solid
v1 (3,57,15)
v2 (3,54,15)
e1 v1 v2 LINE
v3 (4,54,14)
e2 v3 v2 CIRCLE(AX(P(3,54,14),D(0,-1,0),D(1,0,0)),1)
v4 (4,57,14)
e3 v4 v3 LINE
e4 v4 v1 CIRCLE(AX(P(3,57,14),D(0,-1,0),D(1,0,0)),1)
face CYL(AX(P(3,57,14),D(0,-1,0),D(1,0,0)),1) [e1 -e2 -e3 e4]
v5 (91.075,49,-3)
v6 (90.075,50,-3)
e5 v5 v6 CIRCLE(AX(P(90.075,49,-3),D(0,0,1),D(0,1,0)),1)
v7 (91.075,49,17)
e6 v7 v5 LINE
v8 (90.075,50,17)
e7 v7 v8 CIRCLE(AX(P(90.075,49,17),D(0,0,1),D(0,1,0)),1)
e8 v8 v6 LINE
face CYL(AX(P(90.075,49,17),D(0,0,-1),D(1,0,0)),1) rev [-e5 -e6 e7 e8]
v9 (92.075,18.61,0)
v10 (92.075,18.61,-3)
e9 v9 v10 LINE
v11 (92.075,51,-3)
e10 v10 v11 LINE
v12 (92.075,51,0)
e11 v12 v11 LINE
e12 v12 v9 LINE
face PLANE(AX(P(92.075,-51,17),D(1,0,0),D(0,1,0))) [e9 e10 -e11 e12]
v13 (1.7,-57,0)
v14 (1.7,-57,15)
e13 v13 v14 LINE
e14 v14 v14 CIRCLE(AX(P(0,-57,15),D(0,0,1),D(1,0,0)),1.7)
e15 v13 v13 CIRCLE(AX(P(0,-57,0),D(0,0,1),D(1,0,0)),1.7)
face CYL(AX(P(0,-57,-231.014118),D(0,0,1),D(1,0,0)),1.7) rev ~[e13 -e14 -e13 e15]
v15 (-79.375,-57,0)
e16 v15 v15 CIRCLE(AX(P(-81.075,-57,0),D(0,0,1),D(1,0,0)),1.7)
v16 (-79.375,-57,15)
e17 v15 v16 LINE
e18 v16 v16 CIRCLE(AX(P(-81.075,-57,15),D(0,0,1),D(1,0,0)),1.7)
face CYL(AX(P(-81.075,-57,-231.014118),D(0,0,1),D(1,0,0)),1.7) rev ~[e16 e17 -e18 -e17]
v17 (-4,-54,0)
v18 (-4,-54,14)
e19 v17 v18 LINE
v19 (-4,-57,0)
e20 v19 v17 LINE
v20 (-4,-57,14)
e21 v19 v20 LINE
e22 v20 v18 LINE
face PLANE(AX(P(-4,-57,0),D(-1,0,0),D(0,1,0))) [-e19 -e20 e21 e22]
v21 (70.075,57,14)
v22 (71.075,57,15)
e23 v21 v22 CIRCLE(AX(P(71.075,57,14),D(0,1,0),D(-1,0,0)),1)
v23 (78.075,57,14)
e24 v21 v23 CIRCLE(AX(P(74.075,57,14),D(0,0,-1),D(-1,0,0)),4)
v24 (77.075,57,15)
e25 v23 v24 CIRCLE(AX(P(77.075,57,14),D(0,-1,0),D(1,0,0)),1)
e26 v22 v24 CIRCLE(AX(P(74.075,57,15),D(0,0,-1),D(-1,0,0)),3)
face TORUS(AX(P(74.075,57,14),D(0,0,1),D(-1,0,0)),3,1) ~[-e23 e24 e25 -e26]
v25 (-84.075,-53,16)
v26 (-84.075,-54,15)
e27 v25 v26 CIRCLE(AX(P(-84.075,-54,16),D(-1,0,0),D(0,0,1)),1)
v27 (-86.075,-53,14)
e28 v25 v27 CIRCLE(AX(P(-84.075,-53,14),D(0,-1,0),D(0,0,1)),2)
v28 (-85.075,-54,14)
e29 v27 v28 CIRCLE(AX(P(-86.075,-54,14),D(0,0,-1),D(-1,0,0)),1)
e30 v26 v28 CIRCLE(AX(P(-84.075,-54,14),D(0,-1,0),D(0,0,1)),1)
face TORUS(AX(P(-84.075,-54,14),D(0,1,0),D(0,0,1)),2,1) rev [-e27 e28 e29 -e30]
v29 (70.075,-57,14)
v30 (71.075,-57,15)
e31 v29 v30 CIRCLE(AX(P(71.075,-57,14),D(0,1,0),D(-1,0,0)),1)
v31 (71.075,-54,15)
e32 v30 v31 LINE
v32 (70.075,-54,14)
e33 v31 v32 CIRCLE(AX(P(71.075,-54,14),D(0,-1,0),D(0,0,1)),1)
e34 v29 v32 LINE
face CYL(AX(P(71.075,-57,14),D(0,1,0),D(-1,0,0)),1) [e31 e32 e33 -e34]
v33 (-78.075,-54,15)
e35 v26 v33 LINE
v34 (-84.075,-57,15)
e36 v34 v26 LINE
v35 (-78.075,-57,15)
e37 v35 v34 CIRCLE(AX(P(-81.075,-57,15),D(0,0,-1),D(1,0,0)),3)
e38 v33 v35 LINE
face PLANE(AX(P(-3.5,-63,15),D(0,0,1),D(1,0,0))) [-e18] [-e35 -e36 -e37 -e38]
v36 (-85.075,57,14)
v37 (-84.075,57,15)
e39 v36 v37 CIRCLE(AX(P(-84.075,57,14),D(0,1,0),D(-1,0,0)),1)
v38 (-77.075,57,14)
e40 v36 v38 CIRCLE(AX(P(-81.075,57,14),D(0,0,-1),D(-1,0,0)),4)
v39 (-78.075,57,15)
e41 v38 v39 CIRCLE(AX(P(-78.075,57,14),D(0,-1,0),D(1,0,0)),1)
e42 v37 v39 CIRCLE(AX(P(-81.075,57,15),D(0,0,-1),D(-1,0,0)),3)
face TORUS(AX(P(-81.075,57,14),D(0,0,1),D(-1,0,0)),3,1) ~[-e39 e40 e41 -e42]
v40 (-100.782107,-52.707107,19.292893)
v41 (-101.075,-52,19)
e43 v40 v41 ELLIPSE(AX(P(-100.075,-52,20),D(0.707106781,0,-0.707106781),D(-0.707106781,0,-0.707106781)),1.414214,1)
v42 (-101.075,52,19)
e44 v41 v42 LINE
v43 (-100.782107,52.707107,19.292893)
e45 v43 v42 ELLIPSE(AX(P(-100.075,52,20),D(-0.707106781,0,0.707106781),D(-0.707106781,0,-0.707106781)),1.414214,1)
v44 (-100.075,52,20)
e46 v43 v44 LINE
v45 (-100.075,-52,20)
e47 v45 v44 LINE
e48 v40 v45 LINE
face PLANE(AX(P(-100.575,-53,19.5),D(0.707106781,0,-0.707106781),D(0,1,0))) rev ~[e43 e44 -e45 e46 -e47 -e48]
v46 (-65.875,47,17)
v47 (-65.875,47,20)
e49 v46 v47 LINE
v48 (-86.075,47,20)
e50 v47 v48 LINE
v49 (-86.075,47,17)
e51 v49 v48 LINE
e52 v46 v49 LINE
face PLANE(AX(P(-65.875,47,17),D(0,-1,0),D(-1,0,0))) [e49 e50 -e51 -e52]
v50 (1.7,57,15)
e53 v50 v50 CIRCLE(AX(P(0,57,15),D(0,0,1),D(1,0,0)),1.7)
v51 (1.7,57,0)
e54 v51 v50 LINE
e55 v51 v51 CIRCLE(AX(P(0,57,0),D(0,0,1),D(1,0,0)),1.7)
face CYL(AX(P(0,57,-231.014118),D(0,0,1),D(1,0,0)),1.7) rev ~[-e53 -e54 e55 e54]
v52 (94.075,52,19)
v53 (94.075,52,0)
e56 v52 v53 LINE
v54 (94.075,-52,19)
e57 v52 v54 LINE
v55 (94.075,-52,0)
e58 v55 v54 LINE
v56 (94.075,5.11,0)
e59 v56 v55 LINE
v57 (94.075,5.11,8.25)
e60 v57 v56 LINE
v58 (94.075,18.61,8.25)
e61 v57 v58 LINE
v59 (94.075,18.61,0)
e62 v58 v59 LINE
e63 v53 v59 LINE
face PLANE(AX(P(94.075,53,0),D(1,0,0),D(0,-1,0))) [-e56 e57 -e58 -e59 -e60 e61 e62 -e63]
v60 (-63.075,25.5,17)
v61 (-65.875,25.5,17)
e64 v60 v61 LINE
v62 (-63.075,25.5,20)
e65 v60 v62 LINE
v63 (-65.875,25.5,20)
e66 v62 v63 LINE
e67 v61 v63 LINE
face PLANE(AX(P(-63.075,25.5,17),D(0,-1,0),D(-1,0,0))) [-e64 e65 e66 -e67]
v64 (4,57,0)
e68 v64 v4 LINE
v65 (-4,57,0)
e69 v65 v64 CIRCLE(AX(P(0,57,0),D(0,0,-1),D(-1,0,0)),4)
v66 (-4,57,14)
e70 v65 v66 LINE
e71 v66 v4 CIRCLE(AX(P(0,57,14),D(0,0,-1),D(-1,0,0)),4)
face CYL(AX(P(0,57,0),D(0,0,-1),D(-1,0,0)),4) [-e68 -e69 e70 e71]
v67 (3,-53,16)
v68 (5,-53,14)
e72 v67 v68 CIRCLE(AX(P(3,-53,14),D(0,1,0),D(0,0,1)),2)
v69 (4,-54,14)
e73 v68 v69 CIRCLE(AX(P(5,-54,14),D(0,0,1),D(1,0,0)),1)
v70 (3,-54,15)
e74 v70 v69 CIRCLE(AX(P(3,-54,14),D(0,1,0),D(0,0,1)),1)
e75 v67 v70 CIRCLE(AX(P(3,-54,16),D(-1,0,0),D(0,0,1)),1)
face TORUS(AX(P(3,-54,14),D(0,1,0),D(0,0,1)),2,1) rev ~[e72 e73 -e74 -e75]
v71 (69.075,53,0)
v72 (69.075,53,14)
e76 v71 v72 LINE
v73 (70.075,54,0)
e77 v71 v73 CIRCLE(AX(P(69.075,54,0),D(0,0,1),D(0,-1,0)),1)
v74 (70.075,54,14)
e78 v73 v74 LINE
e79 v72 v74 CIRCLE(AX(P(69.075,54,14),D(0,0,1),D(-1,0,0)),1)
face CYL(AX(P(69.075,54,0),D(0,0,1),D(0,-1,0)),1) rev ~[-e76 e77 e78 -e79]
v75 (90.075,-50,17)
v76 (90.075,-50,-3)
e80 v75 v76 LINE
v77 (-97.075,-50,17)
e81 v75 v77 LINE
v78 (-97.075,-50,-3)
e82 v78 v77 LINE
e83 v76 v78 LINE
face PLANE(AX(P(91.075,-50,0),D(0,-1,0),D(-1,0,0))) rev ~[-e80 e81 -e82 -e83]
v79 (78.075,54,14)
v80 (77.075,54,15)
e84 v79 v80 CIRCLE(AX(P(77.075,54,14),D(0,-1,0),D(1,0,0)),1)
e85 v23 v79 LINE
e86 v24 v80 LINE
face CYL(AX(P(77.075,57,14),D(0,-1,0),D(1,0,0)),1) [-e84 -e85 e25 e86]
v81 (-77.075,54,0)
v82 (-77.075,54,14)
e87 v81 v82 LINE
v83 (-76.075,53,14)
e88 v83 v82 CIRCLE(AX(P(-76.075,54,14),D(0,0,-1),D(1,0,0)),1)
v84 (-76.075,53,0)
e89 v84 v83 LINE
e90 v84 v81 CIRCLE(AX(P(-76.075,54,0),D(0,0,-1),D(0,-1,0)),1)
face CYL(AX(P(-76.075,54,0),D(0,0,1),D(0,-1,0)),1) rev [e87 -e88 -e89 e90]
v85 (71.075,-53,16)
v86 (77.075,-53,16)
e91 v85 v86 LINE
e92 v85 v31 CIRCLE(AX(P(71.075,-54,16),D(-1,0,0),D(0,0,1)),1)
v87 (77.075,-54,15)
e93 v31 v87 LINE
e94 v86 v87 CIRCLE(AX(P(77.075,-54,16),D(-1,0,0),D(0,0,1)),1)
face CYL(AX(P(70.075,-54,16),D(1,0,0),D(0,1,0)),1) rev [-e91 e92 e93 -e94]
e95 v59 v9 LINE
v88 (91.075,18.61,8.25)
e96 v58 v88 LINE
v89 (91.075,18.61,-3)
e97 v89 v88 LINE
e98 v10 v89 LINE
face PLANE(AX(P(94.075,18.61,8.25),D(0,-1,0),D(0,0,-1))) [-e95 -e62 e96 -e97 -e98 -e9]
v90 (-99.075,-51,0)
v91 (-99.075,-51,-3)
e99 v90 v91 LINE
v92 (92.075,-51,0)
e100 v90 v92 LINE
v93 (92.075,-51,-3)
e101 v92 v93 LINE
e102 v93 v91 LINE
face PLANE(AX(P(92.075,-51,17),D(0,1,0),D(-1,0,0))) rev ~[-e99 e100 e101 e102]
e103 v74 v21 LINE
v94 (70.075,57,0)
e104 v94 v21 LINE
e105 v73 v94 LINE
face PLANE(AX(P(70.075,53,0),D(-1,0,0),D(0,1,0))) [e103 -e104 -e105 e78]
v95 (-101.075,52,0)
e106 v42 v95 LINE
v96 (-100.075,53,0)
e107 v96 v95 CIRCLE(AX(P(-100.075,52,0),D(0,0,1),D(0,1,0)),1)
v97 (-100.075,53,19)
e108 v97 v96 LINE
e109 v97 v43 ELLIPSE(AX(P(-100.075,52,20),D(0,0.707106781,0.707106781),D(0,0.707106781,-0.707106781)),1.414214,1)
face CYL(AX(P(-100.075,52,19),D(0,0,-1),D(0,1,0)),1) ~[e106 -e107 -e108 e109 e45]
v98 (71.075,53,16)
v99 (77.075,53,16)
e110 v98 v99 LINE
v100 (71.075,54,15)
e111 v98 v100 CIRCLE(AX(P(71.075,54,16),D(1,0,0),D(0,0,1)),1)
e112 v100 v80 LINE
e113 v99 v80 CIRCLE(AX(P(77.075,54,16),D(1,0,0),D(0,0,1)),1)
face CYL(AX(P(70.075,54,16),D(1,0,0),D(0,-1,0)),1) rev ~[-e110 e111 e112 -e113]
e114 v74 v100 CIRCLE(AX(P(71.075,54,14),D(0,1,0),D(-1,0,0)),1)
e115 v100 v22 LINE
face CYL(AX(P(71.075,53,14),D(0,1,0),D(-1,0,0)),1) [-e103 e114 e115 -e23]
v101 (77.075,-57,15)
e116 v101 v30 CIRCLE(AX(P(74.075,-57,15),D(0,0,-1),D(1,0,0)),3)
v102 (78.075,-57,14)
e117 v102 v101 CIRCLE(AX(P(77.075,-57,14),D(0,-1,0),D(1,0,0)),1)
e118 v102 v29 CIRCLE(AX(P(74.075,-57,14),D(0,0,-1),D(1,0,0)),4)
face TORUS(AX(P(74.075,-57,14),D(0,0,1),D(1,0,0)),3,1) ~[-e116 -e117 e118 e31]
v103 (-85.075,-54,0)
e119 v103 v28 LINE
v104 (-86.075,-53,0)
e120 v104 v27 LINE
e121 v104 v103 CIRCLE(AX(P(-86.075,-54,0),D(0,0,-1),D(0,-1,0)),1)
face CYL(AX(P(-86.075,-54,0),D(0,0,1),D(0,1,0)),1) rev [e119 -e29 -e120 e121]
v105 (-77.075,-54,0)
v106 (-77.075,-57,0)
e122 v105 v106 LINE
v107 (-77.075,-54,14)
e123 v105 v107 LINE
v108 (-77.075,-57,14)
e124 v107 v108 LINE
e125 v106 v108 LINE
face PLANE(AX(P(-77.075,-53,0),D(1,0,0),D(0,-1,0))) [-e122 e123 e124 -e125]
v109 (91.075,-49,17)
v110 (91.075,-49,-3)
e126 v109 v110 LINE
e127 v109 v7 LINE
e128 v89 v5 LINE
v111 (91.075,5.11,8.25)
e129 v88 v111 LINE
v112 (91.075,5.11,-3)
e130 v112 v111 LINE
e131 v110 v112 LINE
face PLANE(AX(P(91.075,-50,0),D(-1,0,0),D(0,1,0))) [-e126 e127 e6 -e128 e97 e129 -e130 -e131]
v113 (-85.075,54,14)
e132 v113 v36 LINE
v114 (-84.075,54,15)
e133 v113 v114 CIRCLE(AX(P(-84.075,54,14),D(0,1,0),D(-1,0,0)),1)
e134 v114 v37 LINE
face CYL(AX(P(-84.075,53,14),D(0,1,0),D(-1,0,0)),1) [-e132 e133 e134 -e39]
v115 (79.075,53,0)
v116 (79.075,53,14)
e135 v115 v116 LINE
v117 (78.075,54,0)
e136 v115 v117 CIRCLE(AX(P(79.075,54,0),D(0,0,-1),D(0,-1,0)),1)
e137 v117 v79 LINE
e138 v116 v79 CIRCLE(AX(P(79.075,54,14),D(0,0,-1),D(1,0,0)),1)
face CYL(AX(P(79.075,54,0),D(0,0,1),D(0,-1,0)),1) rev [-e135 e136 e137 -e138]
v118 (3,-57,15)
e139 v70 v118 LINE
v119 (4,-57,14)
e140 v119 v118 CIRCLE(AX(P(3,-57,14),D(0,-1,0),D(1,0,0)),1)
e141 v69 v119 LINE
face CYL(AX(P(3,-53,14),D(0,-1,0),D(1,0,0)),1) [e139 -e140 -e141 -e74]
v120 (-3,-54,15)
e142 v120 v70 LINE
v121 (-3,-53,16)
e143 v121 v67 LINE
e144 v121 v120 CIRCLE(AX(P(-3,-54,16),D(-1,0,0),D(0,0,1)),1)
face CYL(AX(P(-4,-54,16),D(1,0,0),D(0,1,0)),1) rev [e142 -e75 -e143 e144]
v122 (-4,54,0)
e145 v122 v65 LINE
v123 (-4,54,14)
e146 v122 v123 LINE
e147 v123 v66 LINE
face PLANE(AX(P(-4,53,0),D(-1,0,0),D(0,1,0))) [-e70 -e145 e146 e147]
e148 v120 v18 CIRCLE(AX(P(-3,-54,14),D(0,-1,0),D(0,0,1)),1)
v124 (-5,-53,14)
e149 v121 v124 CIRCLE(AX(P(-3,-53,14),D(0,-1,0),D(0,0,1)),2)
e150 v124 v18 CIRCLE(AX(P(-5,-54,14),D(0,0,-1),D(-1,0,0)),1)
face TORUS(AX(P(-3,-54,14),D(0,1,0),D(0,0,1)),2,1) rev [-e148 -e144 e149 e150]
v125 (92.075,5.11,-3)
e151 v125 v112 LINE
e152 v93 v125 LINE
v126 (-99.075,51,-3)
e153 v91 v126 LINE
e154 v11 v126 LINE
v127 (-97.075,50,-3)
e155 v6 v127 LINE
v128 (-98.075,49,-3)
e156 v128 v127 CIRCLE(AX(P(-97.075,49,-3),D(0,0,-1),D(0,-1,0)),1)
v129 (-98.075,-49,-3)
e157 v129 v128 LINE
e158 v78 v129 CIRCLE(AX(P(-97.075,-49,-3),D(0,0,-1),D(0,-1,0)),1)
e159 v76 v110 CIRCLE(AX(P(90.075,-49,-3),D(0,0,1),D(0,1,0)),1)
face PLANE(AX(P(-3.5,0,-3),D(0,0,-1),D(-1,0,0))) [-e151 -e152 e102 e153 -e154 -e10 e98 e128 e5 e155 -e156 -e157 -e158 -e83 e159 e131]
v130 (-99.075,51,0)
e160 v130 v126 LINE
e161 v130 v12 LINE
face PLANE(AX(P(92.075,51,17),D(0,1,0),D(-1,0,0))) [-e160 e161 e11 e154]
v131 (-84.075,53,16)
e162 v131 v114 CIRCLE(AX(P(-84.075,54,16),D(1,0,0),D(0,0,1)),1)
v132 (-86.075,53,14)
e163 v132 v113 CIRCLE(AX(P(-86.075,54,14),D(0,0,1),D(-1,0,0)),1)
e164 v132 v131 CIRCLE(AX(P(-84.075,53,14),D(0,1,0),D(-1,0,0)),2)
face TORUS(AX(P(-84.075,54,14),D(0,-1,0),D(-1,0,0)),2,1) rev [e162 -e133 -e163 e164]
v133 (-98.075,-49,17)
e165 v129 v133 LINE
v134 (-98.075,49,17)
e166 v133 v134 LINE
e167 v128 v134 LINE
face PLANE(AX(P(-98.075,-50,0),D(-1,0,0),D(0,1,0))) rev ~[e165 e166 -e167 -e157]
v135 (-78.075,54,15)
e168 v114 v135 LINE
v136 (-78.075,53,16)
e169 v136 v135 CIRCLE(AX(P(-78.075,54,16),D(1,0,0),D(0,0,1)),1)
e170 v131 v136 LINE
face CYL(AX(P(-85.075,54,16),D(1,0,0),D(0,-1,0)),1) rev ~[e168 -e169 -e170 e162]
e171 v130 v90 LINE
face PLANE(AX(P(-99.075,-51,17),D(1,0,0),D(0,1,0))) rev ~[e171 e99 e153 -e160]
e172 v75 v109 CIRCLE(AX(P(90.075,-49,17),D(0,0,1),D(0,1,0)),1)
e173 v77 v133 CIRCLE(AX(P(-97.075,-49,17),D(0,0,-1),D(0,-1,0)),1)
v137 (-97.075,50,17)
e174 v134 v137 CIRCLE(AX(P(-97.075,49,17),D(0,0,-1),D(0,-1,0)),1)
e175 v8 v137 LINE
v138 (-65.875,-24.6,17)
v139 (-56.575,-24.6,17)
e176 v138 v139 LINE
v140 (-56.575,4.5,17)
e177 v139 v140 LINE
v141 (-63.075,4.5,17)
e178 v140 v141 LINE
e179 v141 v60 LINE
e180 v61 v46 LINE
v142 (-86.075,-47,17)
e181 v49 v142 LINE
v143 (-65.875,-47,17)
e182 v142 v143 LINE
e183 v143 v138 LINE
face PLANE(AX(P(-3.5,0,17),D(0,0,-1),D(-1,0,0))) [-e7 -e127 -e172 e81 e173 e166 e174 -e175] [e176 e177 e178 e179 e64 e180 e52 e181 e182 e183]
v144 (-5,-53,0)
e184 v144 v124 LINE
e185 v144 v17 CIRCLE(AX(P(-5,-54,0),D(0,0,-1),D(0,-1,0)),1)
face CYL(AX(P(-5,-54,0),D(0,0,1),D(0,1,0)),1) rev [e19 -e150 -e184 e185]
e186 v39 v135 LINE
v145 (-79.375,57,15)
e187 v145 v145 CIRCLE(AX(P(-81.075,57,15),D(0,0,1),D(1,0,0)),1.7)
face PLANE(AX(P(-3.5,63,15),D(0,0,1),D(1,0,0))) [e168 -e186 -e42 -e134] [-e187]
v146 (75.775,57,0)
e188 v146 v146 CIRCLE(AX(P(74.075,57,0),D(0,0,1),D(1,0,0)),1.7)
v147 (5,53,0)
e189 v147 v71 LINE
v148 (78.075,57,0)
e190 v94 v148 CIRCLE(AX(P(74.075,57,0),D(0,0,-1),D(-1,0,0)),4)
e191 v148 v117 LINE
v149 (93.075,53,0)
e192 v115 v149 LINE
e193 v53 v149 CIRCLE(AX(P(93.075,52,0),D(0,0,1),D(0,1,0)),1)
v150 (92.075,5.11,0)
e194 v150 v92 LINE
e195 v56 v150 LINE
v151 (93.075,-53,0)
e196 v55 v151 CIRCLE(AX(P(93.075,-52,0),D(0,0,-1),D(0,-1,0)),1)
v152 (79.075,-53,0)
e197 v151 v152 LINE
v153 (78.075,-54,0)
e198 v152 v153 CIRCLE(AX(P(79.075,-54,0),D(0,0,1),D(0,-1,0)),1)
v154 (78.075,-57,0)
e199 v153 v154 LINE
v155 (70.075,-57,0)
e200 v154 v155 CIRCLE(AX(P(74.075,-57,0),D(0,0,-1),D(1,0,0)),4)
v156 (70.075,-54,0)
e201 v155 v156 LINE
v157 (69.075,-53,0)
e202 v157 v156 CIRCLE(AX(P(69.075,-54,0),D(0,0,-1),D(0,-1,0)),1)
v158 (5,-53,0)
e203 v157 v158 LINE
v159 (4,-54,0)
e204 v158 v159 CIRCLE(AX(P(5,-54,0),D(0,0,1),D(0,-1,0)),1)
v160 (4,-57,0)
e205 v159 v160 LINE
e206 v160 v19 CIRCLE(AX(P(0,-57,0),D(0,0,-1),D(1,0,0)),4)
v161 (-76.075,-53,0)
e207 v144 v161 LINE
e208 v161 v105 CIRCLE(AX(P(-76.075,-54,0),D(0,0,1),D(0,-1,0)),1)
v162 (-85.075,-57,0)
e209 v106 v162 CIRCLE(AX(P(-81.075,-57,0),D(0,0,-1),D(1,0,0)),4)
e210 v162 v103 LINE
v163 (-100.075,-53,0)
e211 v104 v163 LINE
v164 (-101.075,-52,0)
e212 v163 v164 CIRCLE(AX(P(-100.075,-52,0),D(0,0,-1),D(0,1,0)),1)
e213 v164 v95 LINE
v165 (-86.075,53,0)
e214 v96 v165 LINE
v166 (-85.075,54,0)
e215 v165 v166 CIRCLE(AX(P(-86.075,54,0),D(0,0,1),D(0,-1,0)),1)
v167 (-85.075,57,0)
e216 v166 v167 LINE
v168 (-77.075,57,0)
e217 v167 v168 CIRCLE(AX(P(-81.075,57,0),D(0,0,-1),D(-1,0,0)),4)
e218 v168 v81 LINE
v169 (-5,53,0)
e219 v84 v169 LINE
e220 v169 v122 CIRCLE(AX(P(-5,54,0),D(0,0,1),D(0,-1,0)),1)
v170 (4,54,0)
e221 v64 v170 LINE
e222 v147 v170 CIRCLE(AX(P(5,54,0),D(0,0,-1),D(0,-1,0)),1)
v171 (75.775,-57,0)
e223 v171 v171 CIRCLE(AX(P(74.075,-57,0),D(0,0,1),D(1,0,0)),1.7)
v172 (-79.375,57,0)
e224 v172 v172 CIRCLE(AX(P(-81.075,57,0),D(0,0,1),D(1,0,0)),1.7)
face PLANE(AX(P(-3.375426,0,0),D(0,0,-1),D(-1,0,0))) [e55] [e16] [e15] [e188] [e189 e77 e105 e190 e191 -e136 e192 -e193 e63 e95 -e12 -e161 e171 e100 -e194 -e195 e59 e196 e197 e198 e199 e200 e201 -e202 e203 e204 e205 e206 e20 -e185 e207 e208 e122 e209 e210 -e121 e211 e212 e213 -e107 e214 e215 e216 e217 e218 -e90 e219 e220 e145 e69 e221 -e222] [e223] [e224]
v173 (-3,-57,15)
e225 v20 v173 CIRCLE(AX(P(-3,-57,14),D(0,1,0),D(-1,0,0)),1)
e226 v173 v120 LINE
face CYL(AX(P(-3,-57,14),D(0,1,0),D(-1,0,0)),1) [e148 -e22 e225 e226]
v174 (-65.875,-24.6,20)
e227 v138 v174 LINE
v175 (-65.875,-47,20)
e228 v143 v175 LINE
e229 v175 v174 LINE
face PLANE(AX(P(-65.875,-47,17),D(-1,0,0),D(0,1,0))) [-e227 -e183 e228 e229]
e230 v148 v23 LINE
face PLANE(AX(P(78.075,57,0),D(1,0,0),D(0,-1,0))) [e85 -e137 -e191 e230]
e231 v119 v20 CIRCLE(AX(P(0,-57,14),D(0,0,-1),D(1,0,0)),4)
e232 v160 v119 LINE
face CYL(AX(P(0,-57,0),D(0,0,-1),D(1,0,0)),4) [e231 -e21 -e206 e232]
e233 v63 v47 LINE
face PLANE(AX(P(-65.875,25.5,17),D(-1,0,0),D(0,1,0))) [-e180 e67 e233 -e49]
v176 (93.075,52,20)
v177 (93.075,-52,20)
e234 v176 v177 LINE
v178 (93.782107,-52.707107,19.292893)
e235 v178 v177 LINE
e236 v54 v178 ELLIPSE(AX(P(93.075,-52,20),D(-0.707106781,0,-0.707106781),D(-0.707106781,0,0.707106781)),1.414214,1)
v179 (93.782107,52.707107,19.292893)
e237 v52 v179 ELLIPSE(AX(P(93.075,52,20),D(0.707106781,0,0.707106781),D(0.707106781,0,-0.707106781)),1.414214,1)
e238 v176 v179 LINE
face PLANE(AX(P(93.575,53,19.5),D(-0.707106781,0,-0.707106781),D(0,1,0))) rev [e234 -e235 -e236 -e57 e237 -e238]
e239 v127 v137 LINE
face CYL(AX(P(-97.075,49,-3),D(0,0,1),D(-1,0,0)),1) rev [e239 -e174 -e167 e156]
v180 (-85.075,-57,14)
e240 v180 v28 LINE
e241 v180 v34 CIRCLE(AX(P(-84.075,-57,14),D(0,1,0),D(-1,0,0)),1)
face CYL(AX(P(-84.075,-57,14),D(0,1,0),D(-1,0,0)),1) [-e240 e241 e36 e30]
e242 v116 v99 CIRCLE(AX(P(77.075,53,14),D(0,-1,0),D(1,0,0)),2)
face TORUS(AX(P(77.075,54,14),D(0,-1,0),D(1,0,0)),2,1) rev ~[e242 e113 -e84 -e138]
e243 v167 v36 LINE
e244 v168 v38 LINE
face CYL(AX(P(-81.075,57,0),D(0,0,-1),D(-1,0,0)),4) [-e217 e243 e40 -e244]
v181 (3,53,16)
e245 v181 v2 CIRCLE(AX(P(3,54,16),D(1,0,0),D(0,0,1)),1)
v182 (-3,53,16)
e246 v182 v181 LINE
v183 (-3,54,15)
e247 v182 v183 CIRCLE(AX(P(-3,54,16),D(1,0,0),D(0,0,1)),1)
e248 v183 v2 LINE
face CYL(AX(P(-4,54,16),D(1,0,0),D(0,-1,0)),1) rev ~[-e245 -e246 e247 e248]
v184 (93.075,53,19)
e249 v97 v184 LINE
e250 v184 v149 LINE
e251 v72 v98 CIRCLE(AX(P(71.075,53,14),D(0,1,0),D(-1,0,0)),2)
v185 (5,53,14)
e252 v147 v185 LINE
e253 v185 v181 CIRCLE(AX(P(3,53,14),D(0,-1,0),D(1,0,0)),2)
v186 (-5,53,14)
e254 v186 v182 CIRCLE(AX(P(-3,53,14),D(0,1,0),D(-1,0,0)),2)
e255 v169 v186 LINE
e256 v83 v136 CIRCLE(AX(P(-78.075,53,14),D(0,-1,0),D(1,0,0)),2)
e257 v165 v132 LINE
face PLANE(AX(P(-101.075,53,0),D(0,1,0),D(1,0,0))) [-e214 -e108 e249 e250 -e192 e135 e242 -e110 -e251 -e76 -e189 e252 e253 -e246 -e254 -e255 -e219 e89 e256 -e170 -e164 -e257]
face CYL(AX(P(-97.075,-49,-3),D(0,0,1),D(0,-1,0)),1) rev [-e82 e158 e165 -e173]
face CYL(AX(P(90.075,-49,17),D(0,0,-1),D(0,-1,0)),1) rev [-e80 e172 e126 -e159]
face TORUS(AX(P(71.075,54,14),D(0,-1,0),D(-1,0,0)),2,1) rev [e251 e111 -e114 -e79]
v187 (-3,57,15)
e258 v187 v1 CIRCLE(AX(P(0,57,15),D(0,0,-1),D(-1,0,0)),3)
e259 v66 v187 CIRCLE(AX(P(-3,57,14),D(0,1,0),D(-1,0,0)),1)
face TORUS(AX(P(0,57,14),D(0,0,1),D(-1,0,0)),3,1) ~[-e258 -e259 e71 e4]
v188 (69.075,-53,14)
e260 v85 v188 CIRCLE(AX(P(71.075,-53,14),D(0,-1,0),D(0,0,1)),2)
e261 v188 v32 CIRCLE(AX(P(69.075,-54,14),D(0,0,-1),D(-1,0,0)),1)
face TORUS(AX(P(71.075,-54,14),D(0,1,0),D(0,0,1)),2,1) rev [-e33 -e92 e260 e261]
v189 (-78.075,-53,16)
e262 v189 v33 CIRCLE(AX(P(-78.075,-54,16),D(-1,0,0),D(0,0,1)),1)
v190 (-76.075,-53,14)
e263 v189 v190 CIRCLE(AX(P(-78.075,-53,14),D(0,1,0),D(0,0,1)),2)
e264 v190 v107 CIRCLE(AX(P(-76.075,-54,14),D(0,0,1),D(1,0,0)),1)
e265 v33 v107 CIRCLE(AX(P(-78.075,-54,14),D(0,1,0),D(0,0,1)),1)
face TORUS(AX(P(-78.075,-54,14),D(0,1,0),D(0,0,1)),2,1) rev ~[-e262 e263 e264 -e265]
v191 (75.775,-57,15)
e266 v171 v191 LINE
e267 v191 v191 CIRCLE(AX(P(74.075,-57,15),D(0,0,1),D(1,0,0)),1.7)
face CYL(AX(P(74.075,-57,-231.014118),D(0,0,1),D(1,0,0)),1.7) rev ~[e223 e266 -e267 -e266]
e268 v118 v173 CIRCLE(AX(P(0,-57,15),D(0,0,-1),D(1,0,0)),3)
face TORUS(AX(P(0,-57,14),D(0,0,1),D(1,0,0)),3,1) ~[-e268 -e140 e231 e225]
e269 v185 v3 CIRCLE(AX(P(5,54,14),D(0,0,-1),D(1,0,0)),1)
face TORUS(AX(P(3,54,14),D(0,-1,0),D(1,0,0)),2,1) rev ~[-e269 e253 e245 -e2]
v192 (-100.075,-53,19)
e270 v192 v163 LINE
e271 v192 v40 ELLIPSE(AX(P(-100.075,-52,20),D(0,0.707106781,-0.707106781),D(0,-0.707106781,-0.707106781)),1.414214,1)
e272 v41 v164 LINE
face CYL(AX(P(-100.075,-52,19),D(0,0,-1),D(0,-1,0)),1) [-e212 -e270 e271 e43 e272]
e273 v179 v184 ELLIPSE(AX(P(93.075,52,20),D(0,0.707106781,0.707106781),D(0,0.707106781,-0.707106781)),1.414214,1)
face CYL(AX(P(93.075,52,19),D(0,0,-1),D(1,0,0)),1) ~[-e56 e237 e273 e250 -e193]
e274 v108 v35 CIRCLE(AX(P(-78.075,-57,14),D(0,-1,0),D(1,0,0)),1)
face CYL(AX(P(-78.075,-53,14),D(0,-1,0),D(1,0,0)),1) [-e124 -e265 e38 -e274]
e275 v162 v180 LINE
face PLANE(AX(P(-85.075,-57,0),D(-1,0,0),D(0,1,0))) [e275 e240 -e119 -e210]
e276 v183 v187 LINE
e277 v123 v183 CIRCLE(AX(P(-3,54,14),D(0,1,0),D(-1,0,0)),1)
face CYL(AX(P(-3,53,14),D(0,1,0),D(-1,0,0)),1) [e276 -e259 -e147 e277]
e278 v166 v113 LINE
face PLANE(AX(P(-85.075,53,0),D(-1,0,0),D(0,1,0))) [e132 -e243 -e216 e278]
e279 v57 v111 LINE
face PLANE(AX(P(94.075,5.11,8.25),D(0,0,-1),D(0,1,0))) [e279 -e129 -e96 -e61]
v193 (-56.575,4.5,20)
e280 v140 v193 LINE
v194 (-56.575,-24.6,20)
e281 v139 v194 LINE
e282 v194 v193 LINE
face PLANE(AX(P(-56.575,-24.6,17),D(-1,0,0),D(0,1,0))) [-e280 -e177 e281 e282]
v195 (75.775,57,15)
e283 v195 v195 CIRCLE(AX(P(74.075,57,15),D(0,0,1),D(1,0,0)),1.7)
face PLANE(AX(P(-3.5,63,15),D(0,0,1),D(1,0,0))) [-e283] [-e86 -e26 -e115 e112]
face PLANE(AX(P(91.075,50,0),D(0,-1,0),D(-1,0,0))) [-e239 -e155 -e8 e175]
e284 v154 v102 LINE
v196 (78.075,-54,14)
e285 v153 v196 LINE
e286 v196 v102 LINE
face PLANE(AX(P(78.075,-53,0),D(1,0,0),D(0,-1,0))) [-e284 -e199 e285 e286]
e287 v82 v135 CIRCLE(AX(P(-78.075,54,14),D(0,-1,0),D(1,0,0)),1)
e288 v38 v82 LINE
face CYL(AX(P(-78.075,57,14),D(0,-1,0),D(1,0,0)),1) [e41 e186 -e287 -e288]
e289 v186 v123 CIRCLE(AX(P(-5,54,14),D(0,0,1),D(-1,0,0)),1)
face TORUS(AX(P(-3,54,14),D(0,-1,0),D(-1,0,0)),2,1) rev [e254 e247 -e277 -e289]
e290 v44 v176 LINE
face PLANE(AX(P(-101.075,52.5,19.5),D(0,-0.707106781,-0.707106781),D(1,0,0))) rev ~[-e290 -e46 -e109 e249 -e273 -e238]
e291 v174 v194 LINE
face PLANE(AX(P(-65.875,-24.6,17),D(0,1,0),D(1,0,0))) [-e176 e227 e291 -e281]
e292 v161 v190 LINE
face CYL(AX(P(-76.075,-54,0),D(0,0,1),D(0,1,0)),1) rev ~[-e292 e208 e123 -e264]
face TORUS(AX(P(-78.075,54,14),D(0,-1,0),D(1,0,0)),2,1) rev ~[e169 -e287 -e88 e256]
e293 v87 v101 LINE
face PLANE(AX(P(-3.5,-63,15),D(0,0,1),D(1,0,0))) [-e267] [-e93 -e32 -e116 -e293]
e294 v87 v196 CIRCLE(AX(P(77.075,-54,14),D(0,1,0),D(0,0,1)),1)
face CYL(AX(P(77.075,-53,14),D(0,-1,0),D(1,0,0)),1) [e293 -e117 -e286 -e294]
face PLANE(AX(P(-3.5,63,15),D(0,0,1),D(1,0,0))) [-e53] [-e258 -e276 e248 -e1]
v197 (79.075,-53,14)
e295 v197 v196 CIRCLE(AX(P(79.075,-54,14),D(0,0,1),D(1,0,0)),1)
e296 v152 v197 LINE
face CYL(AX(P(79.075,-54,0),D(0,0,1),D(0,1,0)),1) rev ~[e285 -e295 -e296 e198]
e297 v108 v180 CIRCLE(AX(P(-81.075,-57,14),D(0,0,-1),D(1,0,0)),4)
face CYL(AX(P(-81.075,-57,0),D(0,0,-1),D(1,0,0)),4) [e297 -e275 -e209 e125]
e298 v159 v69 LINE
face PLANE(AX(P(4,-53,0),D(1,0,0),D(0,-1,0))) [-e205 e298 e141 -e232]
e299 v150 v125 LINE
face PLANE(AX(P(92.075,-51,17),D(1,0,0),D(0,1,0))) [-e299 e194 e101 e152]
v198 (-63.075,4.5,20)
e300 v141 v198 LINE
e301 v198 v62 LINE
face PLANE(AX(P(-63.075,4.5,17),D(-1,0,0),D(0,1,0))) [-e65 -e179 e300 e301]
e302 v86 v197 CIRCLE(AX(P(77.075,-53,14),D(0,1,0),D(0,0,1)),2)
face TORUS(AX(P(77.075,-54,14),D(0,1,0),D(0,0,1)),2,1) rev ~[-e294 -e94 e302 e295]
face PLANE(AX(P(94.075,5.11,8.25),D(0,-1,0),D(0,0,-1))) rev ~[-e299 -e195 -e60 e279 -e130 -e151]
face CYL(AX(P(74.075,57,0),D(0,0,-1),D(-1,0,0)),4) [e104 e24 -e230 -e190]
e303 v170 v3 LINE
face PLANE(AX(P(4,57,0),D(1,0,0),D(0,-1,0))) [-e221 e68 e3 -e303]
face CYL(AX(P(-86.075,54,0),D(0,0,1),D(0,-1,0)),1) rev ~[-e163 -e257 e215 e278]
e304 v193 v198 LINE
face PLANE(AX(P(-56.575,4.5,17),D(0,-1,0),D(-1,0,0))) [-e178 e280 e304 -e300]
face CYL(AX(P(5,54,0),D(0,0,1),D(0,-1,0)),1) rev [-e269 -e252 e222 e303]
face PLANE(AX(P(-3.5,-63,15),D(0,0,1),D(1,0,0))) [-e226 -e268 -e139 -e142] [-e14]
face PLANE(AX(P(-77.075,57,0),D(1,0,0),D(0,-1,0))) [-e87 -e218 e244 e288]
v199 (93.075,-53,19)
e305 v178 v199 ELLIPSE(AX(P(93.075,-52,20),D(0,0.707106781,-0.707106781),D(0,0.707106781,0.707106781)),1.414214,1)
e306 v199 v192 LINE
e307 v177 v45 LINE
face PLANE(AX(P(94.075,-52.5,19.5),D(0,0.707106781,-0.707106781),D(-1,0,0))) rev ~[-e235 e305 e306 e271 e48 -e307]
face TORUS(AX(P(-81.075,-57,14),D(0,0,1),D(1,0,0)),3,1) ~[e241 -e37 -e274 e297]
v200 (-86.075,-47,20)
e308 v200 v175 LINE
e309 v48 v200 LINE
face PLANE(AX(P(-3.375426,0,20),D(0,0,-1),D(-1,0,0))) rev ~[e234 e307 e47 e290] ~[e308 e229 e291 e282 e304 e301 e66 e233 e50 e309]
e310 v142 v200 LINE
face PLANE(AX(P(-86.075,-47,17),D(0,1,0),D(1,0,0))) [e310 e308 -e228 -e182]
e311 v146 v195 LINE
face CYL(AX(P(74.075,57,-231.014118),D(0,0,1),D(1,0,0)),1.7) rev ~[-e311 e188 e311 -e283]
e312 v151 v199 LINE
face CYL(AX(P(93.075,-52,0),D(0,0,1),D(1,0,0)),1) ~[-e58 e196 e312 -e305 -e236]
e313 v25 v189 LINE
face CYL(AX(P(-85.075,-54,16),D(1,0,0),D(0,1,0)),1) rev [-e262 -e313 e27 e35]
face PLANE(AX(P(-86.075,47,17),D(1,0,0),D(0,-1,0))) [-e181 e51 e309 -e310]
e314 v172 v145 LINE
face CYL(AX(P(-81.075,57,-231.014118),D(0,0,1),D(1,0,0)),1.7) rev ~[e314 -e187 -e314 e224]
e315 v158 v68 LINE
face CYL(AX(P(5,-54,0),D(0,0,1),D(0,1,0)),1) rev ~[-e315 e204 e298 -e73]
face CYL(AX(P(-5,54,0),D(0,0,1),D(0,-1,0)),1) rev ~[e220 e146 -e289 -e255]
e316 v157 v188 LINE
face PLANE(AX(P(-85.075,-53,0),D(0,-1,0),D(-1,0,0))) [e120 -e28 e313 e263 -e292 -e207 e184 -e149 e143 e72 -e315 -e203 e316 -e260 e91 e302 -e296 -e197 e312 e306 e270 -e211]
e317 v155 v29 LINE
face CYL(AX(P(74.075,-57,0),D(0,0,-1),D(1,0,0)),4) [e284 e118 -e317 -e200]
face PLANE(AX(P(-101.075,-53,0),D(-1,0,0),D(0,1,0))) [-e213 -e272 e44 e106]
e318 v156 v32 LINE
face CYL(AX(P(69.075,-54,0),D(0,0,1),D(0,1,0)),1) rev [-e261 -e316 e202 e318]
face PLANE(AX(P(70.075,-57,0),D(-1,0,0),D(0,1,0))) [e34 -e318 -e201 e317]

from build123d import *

# Parameters (mm, degrees)
BOSS_EXTRUDE2_DEPTH  = 20
SKETCH3_W            = 189.15
SKETCH3_H            = 100
CUT_EXTRUDE2_DEPTH   = 17
SKETCH22_W           = 195.15
SKETCH22_H           = 20
CUT_EXTRUDE8_DEPTH   = 5
CHAMFER1_SIZE        = 1
M3_CLEARANCE_HOLE1_D = 3.4
SKETCH13_W           = 191.15
SKETCH13_H           = 102
SKETCH13_W_2         = 189.15
SKETCH13_H_2         = 100
BOSS_EXTRUDE3_DEPTH  = 20
SKETCH18_W           = 14.5
SKETCH18_H           = 13.5
CUT_EXTRUDE4_DEPTH   = 20
FILLET1_R            = 1
CUT_EXTRUDE7_DEPTH   = 10


with BuildPart() as part:
    # Sketch1 → Boss-Extrude2 (new body)
    with BuildSketch(Plane.XY):
        with BuildLine():
            Line((-85.075, -57), (-85.075, -53))
            Line((-85.075, -53), (-101.075, -53))
            Line((-101.075, -53), (-101.075, 53))
            Line((-101.075, 53), (-85.075, 53))
            Line((-85.075, 53), (-85.075, 57))
            ThreePointArc((-85.075, 57), (-81.075, 61), (-77.075, 57))
            Line((-77.075, 57), (-77.075, 53))
            Line((-77.075, 53), (-4, 53))
            Line((-4, 53), (-4, 57))
            ThreePointArc((-4, 57), (0, 61), (4, 57))
            Line((4, 57), (4, 53))
            Line((4, 53), (70.075, 53))
            Line((70.075, 53), (70.075, 57))
            ThreePointArc((70.075, 57), (74.075, 61), (78.075, 57))
            Line((78.075, 57), (78.075, 53))
            Line((78.075, 53), (94.075, 53))
            Line((94.075, 53), (94.075, -53))
            Line((94.075, -53), (78.075, -53))
            Line((78.075, -53), (78.075, -57))
            ThreePointArc((78.075, -57), (74.075, -61), (70.075, -57))
            Line((70.075, -57), (70.075, -53))
            Line((70.075, -53), (4, -53))
            Line((4, -53), (4, -57))
            ThreePointArc((4, -57), (0, -61), (-4, -57))
            Line((-4, -57), (-4, -53))
            Line((-4, -53), (-77.075, -53))
            Line((-77.075, -53), (-77.075, -57))
            ThreePointArc((-77.075, -57), (-81.075, -61), (-85.075, -57))
        make_face()
    extrude(amount=BOSS_EXTRUDE2_DEPTH)

    # Sketch3 → Cut-Extrude2 (cut)
    with BuildSketch(Plane(origin=(0, 0, 0), x_dir=(-1, 0, 0), z_dir=(0, 0, -1))):
        with Locations((3.5, 0)):
            Rectangle(SKETCH3_W, SKETCH3_H)
    extrude(amount=-CUT_EXTRUDE2_DEPTH, mode=Mode.SUBTRACT)

    # Sketch22 → Cut-Extrude8 (cut)
    with BuildSketch(Plane.XY.offset(20)):
        with Locations((-3.5, -63)):
            Rectangle(SKETCH22_W, SKETCH22_H)
        with Locations((-3.5, 63)):
            Rectangle(SKETCH22_W, SKETCH22_H)
    extrude(amount=-CUT_EXTRUDE8_DEPTH, mode=Mode.SUBTRACT)

    # Chamfer1
    chamfer1_edges = [part.edges().sort_by_distance(p)[0] for p in [
        (-3.5, -53, 20),
        (94.075, 0, 20),
        (-3.5, 53, 20),
        (-101.075, 0, 20),
    ]]
    chamfer(chamfer1_edges, length=CHAMFER1_SIZE)

    # M3 Clearance Hole1 (through all)
    with Locations(Plane(origin=(0, 0, 0), x_dir=(-1, 0, 0), z_dir=(0, 0, -1))):
        with Locations((81.075, -57), (0, -57), (81.075, 57), (0, 57), (-74.075, 57), (-74.075, -57)):
            Hole(M3_CLEARANCE_HOLE1_D / 2)

    # Sketch13 → Boss-Extrude3 (add)
    with BuildSketch(Plane(origin=(0, 0, 17), x_dir=(-1, 0, 0), z_dir=(0, 0, -1))):
        with Locations((3.5, 0)):
            Rectangle(SKETCH13_W, SKETCH13_H)
        with Locations((3.5, 0)):
            Rectangle(SKETCH13_W_2, SKETCH13_H_2, mode=Mode.SUBTRACT)
    extrude(amount=BOSS_EXTRUDE3_DEPTH)

    # Sketch18 → Cut-Extrude4 (cut)
    with BuildSketch(Plane(origin=(94.075, 0, 0), x_dir=(0, 0, -1), z_dir=(1, 0, 0))):
        with Locations((-1, 11.86)):
            Rectangle(SKETCH18_W, SKETCH18_H)
    extrude(amount=-CUT_EXTRUDE4_DEPTH, mode=Mode.SUBTRACT)

    # Fillet1
    fillet1_edges = [part.edges().sort_by_distance(p)[0] for p in [
        (0, -53, 15),
        (74.075, -53, 15),
        (-85.075, 53, 7.5),
        (-77.075, 53, 7.5),
        (-4, 53, 7.5),
        (4, 53, 7.5),
        (70.075, 53, 7.5),
        (78.075, 53, 7.5),
        (74.075, 53, 15),
        (0, 53, 15),
        (-81.075, 53, 15),
        (78.075, 55, 15),
        (74.075, 61, 15),
        (70.075, 55, 15),
        (4, 55, 15),
        (0, 61, 15),
        (-4, 55, 15),
        (-77.075, 55, 15),
        (-81.075, 61, 15),
        (-85.075, 55, 15),
        (94.075, 53, 9.5),
        (94.075, -53, 9.5),
        (-101.075, -53, 9.5),
        (-101.075, 53, 9.5),
        (91.075, 50, 7),
        (91.075, -50, 7),
        (-98.075, -50, 7),
        (-98.075, 50, 7),
        (78.075, -53, 7.5),
        (70.075, -53, 7.5),
        (4, -53, 7.5),
        (-4, -53, 7.5),
        (-77.075, -53, 7.5),
        (-85.075, -53, 7.5),
        (-81.075, -61, 15),
        (-85.075, -55, 15),
        (-77.075, -55, 15),
        (0, -61, 15),
        (-4, -55, 15),
        (4, -55, 15),
        (74.075, -61, 15),
        (70.075, -55, 15),
        (78.075, -55, 15),
        (-81.075, -53, 15),
    ]]
    fillet(fillet1_edges, radius=FILLET1_R)

    # Sketch21 → Cut-Extrude7 (cut)
    with BuildSketch(Plane(origin=(0, 0, 17), x_dir=(-1, 0, 0), z_dir=(0, 0, -1))):
        Polygon((86.075, -47), (65.875, -47), (65.875, -24.6), (56.575, -24.6), (56.575, 4.5), (63.075, 4.5), (63.075, 25.5), (65.875, 25.5), (65.875, 47), (86.075, 47), align=None)
    extrude(amount=-CUT_EXTRUDE7_DEPTH, mode=Mode.SUBTRACT)


solid = part.part
